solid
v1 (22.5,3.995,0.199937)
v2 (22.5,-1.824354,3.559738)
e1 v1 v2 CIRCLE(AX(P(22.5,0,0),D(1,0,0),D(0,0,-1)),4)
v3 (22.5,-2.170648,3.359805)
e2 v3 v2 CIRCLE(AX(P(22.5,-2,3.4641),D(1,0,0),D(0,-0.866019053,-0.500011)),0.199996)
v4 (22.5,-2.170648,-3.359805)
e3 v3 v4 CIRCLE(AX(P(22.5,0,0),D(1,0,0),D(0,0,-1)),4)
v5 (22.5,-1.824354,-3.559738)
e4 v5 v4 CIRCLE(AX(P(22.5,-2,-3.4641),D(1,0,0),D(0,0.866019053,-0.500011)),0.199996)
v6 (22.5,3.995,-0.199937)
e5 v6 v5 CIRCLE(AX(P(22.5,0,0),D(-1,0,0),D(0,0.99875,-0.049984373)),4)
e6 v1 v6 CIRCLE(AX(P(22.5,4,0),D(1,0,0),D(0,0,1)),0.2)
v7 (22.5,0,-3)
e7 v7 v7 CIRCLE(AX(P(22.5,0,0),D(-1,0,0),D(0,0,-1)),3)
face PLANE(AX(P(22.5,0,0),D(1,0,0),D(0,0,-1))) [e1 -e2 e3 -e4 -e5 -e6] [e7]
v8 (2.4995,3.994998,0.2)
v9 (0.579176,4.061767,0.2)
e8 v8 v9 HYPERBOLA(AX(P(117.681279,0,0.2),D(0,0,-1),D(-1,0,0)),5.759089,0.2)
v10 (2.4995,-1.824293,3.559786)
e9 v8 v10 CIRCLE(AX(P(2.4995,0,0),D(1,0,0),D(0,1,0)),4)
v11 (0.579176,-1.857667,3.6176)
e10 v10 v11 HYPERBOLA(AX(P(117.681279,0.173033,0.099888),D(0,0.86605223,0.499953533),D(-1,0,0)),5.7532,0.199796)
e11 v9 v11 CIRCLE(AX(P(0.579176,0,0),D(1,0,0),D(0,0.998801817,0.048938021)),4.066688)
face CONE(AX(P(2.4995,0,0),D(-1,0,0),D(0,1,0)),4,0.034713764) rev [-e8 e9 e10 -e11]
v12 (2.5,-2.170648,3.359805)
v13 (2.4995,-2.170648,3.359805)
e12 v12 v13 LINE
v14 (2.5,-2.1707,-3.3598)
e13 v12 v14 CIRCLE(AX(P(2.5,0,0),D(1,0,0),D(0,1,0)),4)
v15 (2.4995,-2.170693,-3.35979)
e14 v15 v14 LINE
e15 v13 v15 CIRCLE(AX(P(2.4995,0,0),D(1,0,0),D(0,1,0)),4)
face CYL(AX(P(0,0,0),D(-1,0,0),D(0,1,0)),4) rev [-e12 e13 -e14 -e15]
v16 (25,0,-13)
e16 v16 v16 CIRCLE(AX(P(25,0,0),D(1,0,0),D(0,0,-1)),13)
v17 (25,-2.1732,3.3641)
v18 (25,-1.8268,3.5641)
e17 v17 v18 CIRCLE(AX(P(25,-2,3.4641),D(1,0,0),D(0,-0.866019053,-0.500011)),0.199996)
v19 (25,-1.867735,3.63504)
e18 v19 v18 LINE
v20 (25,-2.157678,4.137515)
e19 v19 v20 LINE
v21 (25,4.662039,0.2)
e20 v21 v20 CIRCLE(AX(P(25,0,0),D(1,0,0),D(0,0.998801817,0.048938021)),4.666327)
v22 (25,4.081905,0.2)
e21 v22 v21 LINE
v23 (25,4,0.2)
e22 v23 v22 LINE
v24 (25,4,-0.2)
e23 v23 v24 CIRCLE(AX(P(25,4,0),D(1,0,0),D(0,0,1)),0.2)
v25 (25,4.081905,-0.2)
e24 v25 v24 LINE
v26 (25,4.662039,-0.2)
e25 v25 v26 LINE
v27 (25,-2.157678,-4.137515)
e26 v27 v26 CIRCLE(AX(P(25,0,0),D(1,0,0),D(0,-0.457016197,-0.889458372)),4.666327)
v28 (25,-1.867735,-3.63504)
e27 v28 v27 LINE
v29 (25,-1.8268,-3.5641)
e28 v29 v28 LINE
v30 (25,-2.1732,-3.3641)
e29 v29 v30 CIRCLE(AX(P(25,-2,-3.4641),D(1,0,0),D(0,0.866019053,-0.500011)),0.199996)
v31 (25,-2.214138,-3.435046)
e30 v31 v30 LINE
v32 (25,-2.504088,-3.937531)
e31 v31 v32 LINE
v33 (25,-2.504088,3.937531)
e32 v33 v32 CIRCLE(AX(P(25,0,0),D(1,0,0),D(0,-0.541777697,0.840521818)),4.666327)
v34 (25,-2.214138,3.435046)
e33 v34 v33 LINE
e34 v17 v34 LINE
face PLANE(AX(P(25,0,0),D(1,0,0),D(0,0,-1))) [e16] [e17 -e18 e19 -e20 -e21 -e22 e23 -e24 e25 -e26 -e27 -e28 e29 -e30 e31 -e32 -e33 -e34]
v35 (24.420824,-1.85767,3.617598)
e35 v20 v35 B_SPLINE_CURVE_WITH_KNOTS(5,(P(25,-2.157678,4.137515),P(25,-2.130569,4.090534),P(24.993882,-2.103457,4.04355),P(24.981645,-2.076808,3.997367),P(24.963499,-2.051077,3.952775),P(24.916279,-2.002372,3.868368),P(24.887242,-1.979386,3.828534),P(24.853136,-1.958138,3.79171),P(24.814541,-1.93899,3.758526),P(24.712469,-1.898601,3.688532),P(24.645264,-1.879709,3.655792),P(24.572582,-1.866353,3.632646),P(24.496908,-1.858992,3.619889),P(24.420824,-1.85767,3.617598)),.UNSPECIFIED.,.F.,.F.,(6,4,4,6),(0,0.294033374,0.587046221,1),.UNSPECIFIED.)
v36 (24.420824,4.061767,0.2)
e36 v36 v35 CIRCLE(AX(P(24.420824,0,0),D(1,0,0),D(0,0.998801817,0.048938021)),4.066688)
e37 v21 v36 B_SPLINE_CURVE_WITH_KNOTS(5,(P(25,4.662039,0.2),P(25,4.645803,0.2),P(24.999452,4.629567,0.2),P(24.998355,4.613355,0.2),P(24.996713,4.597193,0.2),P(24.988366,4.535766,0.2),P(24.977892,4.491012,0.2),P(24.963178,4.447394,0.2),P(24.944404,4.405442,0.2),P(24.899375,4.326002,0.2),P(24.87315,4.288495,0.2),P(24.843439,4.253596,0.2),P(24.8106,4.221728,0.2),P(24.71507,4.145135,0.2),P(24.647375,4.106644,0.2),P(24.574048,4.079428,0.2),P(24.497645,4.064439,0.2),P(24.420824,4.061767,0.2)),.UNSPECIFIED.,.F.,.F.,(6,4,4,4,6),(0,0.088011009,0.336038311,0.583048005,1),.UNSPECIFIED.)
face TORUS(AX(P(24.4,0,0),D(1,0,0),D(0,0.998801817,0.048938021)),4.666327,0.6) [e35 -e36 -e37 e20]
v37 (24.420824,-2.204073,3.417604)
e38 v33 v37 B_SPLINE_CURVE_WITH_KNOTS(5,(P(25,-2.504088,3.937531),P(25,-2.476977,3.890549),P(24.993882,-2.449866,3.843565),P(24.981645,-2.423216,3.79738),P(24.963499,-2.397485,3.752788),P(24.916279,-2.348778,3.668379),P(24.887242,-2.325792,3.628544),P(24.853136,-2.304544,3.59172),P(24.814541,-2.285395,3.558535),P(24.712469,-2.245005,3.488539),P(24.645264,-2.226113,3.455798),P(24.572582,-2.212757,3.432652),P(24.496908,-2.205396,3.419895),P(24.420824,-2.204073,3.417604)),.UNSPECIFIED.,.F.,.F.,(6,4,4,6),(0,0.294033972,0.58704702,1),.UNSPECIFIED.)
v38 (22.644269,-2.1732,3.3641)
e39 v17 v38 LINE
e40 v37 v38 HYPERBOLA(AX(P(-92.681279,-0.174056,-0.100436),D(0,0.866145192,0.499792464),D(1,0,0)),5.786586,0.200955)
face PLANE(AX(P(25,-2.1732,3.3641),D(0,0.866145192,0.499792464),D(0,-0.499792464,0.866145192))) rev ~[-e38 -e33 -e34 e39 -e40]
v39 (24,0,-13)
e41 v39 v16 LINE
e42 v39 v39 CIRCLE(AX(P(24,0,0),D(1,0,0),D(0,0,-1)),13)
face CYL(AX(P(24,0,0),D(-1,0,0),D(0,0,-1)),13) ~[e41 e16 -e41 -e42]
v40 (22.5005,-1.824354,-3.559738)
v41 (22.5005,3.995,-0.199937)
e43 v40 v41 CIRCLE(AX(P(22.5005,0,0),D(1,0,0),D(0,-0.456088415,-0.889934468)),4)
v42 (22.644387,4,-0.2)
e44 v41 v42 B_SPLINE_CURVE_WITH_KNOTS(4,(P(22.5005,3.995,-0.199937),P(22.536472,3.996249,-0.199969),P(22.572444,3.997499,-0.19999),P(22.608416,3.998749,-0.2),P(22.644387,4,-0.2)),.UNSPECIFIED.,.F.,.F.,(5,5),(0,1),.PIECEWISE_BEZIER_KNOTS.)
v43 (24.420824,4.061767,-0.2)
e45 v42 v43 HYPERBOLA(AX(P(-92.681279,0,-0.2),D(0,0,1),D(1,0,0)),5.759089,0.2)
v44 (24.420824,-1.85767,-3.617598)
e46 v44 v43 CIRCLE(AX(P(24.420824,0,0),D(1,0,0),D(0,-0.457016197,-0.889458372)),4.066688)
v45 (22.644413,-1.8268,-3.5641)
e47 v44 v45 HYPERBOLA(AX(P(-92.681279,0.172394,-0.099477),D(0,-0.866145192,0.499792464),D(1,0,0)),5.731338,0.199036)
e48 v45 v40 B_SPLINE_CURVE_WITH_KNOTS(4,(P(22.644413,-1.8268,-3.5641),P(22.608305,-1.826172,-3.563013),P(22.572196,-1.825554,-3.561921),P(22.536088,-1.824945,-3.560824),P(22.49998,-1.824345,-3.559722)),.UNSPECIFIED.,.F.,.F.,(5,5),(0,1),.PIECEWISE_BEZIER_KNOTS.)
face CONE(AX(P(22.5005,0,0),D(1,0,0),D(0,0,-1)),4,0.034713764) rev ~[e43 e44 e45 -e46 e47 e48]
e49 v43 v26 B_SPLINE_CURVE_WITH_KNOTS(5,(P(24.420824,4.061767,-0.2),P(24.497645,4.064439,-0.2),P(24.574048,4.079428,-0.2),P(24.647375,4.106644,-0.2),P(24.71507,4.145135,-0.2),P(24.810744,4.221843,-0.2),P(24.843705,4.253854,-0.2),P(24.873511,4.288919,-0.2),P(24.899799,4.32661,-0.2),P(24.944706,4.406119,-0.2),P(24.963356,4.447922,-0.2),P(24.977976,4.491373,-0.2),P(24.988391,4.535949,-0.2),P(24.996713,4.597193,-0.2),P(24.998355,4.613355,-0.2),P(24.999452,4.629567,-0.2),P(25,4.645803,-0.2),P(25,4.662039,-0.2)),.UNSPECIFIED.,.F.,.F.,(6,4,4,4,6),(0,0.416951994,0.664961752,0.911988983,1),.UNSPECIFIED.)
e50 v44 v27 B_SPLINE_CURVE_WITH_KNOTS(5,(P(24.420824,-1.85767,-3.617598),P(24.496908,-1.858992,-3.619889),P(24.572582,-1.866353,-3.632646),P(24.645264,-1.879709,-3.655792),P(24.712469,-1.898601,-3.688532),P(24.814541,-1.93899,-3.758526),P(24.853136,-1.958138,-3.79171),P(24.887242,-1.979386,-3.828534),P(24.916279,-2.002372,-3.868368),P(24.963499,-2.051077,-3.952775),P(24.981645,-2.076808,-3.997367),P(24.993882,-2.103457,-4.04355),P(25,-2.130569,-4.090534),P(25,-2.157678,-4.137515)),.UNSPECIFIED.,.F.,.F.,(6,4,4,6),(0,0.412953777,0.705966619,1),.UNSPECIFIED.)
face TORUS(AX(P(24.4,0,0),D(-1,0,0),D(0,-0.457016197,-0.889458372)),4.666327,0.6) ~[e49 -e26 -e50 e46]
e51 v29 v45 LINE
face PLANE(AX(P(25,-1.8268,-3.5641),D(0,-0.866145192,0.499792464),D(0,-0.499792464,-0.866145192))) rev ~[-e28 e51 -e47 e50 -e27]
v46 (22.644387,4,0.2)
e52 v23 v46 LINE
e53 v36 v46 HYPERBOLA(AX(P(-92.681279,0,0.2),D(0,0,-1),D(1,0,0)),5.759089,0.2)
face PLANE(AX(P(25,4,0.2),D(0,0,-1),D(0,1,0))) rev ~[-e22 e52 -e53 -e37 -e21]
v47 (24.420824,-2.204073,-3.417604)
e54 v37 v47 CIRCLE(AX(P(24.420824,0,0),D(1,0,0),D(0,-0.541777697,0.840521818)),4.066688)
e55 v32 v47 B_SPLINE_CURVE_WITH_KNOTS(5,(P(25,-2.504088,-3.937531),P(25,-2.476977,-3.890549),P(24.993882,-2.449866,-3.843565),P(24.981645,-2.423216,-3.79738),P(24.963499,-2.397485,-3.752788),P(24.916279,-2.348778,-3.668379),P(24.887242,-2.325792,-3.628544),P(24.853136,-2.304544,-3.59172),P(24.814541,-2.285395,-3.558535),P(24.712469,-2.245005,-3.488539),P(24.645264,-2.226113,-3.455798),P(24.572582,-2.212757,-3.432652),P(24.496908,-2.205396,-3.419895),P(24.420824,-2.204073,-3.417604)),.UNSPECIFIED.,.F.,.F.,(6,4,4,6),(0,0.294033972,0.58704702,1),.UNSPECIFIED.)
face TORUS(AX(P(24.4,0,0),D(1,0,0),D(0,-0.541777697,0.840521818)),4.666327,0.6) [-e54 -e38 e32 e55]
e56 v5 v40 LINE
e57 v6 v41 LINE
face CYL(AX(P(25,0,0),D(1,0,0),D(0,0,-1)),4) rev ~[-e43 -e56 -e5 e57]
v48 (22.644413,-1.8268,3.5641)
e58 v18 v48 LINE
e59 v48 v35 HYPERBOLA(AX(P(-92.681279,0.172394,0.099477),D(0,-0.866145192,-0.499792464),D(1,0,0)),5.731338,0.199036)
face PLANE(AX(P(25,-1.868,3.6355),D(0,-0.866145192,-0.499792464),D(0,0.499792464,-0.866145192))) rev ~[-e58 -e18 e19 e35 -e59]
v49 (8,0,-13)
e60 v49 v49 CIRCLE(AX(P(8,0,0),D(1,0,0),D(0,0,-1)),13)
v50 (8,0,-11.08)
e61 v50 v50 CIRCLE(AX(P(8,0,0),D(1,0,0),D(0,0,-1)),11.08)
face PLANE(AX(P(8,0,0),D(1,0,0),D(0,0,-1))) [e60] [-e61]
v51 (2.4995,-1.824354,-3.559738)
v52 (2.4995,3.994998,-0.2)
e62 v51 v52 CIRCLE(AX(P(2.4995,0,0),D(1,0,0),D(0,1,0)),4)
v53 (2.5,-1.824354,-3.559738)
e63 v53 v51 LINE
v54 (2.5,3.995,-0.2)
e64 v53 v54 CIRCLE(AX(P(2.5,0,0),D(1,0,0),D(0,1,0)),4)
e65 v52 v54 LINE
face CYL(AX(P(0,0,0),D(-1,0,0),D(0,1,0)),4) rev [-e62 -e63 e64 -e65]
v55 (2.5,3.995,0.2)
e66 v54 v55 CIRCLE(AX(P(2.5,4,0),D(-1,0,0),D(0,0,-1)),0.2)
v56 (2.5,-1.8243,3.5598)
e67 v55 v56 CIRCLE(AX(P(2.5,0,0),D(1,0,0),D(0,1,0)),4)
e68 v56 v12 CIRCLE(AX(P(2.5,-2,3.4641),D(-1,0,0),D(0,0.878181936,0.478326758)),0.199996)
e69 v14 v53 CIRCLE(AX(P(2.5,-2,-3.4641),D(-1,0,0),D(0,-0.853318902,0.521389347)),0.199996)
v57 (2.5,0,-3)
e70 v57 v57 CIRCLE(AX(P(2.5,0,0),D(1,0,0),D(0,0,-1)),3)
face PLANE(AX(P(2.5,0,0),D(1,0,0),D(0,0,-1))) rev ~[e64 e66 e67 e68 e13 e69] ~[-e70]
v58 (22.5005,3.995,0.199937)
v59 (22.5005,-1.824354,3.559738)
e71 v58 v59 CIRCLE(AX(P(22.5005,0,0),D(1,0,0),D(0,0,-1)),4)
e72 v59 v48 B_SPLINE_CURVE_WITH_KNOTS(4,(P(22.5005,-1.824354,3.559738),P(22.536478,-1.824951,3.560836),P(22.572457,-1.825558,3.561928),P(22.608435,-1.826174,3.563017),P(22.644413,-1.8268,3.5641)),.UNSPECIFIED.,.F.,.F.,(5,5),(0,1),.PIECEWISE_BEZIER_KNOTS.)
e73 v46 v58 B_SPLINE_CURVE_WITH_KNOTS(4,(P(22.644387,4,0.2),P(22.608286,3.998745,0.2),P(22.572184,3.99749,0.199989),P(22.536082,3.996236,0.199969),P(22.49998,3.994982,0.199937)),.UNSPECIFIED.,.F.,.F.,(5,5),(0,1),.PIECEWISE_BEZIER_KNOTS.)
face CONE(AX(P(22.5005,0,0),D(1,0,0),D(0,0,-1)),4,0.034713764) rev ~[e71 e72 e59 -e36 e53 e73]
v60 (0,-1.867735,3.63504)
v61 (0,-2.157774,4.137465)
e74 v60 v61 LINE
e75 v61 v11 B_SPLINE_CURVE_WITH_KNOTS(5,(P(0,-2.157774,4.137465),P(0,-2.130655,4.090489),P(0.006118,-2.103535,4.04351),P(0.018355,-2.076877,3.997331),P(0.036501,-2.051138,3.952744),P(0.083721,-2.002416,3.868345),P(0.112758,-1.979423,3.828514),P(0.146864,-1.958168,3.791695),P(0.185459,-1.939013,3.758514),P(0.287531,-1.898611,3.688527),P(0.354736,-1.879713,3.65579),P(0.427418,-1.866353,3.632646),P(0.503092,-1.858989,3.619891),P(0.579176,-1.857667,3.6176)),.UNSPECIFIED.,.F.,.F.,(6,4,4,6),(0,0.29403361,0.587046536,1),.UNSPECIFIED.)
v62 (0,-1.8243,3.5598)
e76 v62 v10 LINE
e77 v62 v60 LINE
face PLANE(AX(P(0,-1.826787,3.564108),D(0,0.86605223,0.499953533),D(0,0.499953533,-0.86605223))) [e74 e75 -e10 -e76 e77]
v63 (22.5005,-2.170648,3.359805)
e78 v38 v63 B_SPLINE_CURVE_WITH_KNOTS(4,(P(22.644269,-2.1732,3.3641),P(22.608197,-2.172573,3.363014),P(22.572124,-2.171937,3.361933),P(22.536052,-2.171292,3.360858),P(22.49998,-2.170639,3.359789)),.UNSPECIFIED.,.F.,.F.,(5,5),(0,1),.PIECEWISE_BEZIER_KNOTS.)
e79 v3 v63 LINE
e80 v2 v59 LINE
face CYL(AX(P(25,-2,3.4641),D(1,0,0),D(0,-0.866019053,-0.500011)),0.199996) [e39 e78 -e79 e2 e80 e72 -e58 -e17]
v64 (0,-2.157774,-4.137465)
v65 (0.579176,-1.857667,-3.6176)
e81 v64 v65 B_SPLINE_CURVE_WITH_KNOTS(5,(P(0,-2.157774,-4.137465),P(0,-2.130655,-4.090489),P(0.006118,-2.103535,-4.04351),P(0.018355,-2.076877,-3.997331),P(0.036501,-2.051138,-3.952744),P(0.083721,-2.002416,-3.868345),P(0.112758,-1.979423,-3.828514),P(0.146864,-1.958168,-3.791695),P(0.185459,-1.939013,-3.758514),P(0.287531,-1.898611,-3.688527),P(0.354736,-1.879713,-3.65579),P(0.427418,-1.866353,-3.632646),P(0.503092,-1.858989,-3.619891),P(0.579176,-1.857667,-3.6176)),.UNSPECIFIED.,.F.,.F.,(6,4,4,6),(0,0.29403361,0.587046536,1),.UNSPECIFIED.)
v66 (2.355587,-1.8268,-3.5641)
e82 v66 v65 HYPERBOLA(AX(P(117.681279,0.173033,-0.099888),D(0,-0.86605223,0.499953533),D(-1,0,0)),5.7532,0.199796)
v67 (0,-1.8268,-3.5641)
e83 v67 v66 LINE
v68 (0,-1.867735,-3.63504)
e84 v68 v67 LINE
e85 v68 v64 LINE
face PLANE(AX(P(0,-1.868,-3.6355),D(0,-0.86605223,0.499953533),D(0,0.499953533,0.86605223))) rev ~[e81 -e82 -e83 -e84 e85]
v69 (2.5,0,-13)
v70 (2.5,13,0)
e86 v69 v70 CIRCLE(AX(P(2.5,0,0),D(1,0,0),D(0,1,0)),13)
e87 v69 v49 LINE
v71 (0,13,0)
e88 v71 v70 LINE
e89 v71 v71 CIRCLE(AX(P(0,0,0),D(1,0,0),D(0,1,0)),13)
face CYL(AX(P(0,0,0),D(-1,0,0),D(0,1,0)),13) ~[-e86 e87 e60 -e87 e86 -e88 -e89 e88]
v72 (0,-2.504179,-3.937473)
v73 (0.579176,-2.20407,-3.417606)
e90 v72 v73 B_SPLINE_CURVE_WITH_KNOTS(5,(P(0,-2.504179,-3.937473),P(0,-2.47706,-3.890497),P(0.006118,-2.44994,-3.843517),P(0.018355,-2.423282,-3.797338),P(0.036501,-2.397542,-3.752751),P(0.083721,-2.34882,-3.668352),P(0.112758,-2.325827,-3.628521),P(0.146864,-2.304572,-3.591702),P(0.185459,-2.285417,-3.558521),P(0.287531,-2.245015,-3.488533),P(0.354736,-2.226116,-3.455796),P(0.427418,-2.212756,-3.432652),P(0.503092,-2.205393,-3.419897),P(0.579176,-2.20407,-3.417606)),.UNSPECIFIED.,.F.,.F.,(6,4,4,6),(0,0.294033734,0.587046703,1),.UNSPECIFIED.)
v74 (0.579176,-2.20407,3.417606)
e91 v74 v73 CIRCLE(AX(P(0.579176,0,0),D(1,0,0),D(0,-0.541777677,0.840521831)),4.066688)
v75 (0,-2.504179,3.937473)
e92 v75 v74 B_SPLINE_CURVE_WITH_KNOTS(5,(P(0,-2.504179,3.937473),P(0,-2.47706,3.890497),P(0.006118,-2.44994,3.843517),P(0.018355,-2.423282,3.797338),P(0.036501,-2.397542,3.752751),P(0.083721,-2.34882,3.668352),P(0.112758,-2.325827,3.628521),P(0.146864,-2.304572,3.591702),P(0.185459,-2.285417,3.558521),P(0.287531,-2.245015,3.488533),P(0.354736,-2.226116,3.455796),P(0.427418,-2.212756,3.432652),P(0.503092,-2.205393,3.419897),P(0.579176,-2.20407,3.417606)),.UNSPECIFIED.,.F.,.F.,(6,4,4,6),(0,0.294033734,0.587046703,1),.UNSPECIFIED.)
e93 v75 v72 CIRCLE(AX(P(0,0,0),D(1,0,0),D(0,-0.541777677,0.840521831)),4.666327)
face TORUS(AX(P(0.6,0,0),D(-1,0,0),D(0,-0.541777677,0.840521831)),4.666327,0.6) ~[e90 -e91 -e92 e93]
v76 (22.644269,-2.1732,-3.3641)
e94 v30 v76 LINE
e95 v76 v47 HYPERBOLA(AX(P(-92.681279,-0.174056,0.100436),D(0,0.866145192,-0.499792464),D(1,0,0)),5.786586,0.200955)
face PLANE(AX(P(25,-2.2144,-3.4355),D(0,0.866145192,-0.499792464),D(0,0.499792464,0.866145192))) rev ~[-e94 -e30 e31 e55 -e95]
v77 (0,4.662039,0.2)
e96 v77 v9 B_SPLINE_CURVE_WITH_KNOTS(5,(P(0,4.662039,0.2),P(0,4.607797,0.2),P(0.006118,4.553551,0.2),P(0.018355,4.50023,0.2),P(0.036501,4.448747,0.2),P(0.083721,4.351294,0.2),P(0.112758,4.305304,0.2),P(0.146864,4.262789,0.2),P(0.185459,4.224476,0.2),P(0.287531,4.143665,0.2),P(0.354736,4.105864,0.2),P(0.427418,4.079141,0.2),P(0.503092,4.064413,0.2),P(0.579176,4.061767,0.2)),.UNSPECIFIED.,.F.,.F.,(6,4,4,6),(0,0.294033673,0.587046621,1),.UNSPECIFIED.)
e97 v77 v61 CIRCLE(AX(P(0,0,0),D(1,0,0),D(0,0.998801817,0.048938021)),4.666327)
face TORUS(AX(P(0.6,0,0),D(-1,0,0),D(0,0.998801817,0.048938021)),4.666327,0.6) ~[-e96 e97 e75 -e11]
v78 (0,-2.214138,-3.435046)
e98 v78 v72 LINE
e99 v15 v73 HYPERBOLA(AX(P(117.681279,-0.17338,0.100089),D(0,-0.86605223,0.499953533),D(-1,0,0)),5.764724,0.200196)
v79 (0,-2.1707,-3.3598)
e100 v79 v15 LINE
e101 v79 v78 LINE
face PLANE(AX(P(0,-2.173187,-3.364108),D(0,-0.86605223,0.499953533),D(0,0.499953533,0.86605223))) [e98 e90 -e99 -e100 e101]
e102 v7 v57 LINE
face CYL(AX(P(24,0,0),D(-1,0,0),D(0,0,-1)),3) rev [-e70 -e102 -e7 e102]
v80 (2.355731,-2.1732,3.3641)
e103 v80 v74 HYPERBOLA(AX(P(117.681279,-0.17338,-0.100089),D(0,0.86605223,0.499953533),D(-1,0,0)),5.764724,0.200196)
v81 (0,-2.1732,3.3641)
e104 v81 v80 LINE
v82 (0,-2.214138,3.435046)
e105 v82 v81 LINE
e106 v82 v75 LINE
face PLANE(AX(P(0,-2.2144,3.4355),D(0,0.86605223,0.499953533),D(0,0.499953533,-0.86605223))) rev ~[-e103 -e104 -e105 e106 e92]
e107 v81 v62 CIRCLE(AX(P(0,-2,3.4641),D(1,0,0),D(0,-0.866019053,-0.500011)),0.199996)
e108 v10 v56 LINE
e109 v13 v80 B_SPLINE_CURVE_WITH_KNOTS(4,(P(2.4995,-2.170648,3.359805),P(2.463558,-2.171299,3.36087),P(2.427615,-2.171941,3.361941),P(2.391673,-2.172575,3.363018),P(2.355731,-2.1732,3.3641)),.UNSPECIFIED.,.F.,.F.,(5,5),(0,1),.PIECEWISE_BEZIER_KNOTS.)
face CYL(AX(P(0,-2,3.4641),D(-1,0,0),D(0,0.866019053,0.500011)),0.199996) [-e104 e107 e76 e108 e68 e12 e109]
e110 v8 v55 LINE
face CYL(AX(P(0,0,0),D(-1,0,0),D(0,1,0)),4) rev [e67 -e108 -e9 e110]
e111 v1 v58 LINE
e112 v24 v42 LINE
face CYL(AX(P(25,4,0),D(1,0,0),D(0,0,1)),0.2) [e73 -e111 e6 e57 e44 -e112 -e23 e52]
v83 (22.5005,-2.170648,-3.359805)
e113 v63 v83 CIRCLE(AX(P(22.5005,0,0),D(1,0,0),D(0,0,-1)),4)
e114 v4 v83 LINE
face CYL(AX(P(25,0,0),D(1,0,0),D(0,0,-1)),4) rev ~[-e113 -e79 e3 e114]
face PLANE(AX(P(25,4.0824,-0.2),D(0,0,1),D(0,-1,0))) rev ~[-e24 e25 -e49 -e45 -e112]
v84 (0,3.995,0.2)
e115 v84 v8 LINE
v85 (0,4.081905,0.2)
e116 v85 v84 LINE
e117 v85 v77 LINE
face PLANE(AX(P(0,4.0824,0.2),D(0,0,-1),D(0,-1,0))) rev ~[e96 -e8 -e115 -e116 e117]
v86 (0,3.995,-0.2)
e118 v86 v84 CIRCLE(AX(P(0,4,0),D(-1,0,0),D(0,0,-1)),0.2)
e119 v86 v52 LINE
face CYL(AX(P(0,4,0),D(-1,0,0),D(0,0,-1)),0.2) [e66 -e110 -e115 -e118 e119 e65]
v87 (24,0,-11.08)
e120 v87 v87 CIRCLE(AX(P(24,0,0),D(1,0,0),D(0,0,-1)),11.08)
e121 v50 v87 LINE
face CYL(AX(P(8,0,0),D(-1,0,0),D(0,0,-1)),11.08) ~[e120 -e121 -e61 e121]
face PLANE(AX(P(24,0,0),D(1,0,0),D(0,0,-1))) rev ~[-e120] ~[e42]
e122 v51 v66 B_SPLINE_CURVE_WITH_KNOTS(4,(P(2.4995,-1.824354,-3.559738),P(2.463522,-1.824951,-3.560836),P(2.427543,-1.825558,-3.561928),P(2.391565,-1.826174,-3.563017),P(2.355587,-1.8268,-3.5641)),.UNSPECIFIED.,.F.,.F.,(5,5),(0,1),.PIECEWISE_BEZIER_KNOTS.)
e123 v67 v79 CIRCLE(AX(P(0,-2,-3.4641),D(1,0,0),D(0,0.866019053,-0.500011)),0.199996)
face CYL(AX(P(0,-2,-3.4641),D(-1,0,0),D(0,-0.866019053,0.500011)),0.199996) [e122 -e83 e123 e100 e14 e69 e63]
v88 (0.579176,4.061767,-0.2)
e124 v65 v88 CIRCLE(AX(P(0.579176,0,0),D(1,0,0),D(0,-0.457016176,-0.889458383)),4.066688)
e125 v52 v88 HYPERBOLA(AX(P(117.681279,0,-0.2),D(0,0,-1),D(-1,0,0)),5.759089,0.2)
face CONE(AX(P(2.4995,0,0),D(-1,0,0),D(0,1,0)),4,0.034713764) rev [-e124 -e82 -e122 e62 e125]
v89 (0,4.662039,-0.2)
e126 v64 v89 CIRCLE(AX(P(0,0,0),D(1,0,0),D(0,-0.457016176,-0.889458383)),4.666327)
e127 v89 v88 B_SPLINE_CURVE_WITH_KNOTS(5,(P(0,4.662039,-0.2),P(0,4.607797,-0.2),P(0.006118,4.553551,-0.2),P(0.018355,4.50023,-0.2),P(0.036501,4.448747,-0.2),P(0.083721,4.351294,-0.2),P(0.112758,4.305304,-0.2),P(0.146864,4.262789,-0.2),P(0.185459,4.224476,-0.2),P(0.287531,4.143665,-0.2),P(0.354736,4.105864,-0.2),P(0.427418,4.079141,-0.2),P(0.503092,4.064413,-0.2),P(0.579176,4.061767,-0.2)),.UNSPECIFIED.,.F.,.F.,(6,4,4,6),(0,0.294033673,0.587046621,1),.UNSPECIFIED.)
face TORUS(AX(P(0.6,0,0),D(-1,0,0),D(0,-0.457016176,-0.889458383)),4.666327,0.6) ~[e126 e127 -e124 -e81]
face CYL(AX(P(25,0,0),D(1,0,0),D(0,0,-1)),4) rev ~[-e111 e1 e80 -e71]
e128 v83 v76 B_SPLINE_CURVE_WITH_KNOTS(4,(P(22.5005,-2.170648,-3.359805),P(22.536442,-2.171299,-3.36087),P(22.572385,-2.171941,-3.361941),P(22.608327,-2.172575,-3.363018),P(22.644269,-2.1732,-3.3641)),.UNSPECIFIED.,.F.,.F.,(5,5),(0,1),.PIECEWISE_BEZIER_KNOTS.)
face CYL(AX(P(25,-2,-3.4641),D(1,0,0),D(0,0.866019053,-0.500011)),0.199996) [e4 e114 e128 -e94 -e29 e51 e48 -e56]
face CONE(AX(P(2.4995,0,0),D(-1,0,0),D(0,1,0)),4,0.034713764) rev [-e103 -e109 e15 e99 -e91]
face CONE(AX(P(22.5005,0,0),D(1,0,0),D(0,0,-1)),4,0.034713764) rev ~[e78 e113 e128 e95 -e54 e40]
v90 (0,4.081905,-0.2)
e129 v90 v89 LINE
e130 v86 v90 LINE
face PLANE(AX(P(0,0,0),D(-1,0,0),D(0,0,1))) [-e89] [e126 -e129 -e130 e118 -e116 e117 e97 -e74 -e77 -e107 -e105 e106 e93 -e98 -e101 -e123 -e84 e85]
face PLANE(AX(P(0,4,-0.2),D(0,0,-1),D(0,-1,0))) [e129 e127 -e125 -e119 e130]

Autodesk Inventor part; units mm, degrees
ref_plane "YZ Plane" through (0, 0, 0) normal (1, 0, 0) x (0, 1, 0)
ref_plane "XZ Plane" through (0, 0, 0) normal (0, 1, 0) x (-1, 0, 0)
ref_plane "XY Plane" through (0, 0, 0) normal (0, 0, 1) x (1, 0, 0)
sketch "Sketch1" plane through (0, 0, 0) normal (1, 0, 0) x (0, 1, 0)
  circle A0 centre (0, 0) radius 4
  circle A1 centre (0, 0) radius 13
  dimension "d0" = 8
  dimension "d1" = 26
extrude "Extrusion1" add sketch "Sketch1" along normal blind 2.5
sketch "Sketch2" plane through (2.5, 0, 0) normal (1, 0, 0) x (0, 0, -1)
  circle A0 centre (0, 0) radius 3
  circle A1 centre (0, 0) radius 13
  dimension "d4" = 6
extrude "Extrusion2" add sketch "Sketch2" along normal blind 5.5
sketch "Sketch3" plane through (8, 0, 0) normal (1, 0, 0) x (0, 0, -1)
  circle A0 centre (0, 0) radius 3 projected
  circle A1 centre (0, 0) radius 11.08
  dimension "d7" = 22.16
extrude "Extrusion3" add sketch "Sketch3" along normal blind 16
sketch "Sketch4" plane through (24, 0, 0) normal (1, 0, 0) x (0, 0, -1)
  circle A0 centre (0, 0) radius 13 projected
  circle A1 centre (0, 0) radius 3 projected
extrude "Extrusion4" add sketch "Sketch4" along normal blind 1
sketch "Sketch5" plane through (25, 0, 0) normal (1, 0, 0) x (0, 0, -1)
  circle A0 centre (0, 0) radius 4
  dimension "d12" = 8
extrude "Extrusion5" cut sketch "Sketch5" against normal blind 2.5
chamfer "Chamfer1" distance 2.5 angle 2 1 edges at (0, -4, 0) measured on face at (1.6667, 3.9482, -0.6416)
chamfer "Chamfer2" distance 2.5 angle 2 1 edges at (25, 0, 4) measured on face at (23.3333, -0.6416, -3.9482)
sketch "Sketch6" plane through (0, 0, 0) normal (-1, 0, 0) x (0, 0, 1)
  line L0 (0.2, 4.0824) -> (0.2, 3.995)
  line L1 (-0.2, 4.0824) -> (-0.2, 3.995)
  line L2 (0, 0) -> (0, 3.9651) construction
  circle A0 centre (0, 0) radius 4 construction
  arc A1 (-0.2, 4) -> (0.2, 4) centre (0, 4) ccw
  circle A2 centre (0, 0) radius 4.0873 projected
  line L3 (-3.4355, -2.2144) -> (-3.3598, -2.1707)
  arc A3 (-3.3641, -2.1732) -> (-3.5641, -1.8268) centre (-3.4641, -2) ccw
  line L4 (-3.6355, -1.868) -> (-3.5598, -1.8243)
  line L5 (3.6355, -1.868) -> (3.5598, -1.8243)
  arc A4 (3.5641, -1.8268) -> (3.3641, -2.1732) centre (3.4641, -2) ccw
  line L6 (3.4355, -2.2144) -> (3.3598, -2.1707)
  dimension "d21" = 0.2
  dimension "d22" = 0.2
  dimension "d23" = 0.4
  dimension "d26" = 360
extrude "Extrusion6" add sketch "Sketch6" against normal blind 2.5 contours L0 A1 L1 A2 | A2 L6 A4 L5 | L4 A3 L3 A2
sketch "Sketch7" plane through (25, 0, 0) normal (1, 0, 0) x (0, 0, -1)
  circle A0 centre (0, 0) radius 13 projected
  arc A1 (-0.2, 4.0824) -> (-3.6355, -1.868) centre (0, 0) ccw projected
  line L0 (-3.6355, -1.868) -> (-3.5641, -1.8268) projected
  arc A2 (-3.3641, -2.1732) -> (-3.5641, -1.8268) centre (-3.4641, -2) ccw projected
  line L1 (-3.3641, -2.1732) -> (-3.4355, -2.2144) projected
  arc A3 (-3.4355, -2.2144) -> (3.4355, -2.2144) centre (0, 0) ccw projected
  line L2 (3.4355, -2.2144) -> (3.3641, -2.1732) projected
  arc A4 (3.5641, -1.8268) -> (3.3641, -2.1732) centre (3.4641, -2) ccw projected
  line L3 (3.5641, -1.8268) -> (3.6355, -1.868) projected
  arc A5 (3.6355, -1.868) -> (0.2, 4.0824) centre (0, 0) ccw projected
  line L4 (0.2, 4.0824) -> (0.2, 4) projected
  arc A6 (-0.2, 4) -> (0.2, 4) centre (0, 4) ccw projected
  line L5 (-0.2, 4) -> (-0.2, 4.0824) projected
  circle A7 centre (0, 0) radius 13 projected
  circle A8 centre (0, 0) radius 4.0873 projected
  point P0 (3.4355, -2.2144)
  point P1 (-3.6355, -1.868)
  point P2 (0.2, 4.0824)
  point P3 (-0.2, 4.0824)
extrude "Extrusion7" add sketch "Sketch7" against normal blind 2.5 contours A8 L4 A6 L5 | L0 A2 L1 A8 | L2 A4 L3 A8
fillet "Fillet1" radius 0.6 6 edges at (25, 2.0434, -3.5393) (25, -4.0868, 0) (25, 2.0434, 3.5393) (0, 2.0434, -3.5393) (0, 2.0434, 3.5393) (0, -4.0868, 0)
properties part number "8mm ID 15mm Deep Idler Pully"
